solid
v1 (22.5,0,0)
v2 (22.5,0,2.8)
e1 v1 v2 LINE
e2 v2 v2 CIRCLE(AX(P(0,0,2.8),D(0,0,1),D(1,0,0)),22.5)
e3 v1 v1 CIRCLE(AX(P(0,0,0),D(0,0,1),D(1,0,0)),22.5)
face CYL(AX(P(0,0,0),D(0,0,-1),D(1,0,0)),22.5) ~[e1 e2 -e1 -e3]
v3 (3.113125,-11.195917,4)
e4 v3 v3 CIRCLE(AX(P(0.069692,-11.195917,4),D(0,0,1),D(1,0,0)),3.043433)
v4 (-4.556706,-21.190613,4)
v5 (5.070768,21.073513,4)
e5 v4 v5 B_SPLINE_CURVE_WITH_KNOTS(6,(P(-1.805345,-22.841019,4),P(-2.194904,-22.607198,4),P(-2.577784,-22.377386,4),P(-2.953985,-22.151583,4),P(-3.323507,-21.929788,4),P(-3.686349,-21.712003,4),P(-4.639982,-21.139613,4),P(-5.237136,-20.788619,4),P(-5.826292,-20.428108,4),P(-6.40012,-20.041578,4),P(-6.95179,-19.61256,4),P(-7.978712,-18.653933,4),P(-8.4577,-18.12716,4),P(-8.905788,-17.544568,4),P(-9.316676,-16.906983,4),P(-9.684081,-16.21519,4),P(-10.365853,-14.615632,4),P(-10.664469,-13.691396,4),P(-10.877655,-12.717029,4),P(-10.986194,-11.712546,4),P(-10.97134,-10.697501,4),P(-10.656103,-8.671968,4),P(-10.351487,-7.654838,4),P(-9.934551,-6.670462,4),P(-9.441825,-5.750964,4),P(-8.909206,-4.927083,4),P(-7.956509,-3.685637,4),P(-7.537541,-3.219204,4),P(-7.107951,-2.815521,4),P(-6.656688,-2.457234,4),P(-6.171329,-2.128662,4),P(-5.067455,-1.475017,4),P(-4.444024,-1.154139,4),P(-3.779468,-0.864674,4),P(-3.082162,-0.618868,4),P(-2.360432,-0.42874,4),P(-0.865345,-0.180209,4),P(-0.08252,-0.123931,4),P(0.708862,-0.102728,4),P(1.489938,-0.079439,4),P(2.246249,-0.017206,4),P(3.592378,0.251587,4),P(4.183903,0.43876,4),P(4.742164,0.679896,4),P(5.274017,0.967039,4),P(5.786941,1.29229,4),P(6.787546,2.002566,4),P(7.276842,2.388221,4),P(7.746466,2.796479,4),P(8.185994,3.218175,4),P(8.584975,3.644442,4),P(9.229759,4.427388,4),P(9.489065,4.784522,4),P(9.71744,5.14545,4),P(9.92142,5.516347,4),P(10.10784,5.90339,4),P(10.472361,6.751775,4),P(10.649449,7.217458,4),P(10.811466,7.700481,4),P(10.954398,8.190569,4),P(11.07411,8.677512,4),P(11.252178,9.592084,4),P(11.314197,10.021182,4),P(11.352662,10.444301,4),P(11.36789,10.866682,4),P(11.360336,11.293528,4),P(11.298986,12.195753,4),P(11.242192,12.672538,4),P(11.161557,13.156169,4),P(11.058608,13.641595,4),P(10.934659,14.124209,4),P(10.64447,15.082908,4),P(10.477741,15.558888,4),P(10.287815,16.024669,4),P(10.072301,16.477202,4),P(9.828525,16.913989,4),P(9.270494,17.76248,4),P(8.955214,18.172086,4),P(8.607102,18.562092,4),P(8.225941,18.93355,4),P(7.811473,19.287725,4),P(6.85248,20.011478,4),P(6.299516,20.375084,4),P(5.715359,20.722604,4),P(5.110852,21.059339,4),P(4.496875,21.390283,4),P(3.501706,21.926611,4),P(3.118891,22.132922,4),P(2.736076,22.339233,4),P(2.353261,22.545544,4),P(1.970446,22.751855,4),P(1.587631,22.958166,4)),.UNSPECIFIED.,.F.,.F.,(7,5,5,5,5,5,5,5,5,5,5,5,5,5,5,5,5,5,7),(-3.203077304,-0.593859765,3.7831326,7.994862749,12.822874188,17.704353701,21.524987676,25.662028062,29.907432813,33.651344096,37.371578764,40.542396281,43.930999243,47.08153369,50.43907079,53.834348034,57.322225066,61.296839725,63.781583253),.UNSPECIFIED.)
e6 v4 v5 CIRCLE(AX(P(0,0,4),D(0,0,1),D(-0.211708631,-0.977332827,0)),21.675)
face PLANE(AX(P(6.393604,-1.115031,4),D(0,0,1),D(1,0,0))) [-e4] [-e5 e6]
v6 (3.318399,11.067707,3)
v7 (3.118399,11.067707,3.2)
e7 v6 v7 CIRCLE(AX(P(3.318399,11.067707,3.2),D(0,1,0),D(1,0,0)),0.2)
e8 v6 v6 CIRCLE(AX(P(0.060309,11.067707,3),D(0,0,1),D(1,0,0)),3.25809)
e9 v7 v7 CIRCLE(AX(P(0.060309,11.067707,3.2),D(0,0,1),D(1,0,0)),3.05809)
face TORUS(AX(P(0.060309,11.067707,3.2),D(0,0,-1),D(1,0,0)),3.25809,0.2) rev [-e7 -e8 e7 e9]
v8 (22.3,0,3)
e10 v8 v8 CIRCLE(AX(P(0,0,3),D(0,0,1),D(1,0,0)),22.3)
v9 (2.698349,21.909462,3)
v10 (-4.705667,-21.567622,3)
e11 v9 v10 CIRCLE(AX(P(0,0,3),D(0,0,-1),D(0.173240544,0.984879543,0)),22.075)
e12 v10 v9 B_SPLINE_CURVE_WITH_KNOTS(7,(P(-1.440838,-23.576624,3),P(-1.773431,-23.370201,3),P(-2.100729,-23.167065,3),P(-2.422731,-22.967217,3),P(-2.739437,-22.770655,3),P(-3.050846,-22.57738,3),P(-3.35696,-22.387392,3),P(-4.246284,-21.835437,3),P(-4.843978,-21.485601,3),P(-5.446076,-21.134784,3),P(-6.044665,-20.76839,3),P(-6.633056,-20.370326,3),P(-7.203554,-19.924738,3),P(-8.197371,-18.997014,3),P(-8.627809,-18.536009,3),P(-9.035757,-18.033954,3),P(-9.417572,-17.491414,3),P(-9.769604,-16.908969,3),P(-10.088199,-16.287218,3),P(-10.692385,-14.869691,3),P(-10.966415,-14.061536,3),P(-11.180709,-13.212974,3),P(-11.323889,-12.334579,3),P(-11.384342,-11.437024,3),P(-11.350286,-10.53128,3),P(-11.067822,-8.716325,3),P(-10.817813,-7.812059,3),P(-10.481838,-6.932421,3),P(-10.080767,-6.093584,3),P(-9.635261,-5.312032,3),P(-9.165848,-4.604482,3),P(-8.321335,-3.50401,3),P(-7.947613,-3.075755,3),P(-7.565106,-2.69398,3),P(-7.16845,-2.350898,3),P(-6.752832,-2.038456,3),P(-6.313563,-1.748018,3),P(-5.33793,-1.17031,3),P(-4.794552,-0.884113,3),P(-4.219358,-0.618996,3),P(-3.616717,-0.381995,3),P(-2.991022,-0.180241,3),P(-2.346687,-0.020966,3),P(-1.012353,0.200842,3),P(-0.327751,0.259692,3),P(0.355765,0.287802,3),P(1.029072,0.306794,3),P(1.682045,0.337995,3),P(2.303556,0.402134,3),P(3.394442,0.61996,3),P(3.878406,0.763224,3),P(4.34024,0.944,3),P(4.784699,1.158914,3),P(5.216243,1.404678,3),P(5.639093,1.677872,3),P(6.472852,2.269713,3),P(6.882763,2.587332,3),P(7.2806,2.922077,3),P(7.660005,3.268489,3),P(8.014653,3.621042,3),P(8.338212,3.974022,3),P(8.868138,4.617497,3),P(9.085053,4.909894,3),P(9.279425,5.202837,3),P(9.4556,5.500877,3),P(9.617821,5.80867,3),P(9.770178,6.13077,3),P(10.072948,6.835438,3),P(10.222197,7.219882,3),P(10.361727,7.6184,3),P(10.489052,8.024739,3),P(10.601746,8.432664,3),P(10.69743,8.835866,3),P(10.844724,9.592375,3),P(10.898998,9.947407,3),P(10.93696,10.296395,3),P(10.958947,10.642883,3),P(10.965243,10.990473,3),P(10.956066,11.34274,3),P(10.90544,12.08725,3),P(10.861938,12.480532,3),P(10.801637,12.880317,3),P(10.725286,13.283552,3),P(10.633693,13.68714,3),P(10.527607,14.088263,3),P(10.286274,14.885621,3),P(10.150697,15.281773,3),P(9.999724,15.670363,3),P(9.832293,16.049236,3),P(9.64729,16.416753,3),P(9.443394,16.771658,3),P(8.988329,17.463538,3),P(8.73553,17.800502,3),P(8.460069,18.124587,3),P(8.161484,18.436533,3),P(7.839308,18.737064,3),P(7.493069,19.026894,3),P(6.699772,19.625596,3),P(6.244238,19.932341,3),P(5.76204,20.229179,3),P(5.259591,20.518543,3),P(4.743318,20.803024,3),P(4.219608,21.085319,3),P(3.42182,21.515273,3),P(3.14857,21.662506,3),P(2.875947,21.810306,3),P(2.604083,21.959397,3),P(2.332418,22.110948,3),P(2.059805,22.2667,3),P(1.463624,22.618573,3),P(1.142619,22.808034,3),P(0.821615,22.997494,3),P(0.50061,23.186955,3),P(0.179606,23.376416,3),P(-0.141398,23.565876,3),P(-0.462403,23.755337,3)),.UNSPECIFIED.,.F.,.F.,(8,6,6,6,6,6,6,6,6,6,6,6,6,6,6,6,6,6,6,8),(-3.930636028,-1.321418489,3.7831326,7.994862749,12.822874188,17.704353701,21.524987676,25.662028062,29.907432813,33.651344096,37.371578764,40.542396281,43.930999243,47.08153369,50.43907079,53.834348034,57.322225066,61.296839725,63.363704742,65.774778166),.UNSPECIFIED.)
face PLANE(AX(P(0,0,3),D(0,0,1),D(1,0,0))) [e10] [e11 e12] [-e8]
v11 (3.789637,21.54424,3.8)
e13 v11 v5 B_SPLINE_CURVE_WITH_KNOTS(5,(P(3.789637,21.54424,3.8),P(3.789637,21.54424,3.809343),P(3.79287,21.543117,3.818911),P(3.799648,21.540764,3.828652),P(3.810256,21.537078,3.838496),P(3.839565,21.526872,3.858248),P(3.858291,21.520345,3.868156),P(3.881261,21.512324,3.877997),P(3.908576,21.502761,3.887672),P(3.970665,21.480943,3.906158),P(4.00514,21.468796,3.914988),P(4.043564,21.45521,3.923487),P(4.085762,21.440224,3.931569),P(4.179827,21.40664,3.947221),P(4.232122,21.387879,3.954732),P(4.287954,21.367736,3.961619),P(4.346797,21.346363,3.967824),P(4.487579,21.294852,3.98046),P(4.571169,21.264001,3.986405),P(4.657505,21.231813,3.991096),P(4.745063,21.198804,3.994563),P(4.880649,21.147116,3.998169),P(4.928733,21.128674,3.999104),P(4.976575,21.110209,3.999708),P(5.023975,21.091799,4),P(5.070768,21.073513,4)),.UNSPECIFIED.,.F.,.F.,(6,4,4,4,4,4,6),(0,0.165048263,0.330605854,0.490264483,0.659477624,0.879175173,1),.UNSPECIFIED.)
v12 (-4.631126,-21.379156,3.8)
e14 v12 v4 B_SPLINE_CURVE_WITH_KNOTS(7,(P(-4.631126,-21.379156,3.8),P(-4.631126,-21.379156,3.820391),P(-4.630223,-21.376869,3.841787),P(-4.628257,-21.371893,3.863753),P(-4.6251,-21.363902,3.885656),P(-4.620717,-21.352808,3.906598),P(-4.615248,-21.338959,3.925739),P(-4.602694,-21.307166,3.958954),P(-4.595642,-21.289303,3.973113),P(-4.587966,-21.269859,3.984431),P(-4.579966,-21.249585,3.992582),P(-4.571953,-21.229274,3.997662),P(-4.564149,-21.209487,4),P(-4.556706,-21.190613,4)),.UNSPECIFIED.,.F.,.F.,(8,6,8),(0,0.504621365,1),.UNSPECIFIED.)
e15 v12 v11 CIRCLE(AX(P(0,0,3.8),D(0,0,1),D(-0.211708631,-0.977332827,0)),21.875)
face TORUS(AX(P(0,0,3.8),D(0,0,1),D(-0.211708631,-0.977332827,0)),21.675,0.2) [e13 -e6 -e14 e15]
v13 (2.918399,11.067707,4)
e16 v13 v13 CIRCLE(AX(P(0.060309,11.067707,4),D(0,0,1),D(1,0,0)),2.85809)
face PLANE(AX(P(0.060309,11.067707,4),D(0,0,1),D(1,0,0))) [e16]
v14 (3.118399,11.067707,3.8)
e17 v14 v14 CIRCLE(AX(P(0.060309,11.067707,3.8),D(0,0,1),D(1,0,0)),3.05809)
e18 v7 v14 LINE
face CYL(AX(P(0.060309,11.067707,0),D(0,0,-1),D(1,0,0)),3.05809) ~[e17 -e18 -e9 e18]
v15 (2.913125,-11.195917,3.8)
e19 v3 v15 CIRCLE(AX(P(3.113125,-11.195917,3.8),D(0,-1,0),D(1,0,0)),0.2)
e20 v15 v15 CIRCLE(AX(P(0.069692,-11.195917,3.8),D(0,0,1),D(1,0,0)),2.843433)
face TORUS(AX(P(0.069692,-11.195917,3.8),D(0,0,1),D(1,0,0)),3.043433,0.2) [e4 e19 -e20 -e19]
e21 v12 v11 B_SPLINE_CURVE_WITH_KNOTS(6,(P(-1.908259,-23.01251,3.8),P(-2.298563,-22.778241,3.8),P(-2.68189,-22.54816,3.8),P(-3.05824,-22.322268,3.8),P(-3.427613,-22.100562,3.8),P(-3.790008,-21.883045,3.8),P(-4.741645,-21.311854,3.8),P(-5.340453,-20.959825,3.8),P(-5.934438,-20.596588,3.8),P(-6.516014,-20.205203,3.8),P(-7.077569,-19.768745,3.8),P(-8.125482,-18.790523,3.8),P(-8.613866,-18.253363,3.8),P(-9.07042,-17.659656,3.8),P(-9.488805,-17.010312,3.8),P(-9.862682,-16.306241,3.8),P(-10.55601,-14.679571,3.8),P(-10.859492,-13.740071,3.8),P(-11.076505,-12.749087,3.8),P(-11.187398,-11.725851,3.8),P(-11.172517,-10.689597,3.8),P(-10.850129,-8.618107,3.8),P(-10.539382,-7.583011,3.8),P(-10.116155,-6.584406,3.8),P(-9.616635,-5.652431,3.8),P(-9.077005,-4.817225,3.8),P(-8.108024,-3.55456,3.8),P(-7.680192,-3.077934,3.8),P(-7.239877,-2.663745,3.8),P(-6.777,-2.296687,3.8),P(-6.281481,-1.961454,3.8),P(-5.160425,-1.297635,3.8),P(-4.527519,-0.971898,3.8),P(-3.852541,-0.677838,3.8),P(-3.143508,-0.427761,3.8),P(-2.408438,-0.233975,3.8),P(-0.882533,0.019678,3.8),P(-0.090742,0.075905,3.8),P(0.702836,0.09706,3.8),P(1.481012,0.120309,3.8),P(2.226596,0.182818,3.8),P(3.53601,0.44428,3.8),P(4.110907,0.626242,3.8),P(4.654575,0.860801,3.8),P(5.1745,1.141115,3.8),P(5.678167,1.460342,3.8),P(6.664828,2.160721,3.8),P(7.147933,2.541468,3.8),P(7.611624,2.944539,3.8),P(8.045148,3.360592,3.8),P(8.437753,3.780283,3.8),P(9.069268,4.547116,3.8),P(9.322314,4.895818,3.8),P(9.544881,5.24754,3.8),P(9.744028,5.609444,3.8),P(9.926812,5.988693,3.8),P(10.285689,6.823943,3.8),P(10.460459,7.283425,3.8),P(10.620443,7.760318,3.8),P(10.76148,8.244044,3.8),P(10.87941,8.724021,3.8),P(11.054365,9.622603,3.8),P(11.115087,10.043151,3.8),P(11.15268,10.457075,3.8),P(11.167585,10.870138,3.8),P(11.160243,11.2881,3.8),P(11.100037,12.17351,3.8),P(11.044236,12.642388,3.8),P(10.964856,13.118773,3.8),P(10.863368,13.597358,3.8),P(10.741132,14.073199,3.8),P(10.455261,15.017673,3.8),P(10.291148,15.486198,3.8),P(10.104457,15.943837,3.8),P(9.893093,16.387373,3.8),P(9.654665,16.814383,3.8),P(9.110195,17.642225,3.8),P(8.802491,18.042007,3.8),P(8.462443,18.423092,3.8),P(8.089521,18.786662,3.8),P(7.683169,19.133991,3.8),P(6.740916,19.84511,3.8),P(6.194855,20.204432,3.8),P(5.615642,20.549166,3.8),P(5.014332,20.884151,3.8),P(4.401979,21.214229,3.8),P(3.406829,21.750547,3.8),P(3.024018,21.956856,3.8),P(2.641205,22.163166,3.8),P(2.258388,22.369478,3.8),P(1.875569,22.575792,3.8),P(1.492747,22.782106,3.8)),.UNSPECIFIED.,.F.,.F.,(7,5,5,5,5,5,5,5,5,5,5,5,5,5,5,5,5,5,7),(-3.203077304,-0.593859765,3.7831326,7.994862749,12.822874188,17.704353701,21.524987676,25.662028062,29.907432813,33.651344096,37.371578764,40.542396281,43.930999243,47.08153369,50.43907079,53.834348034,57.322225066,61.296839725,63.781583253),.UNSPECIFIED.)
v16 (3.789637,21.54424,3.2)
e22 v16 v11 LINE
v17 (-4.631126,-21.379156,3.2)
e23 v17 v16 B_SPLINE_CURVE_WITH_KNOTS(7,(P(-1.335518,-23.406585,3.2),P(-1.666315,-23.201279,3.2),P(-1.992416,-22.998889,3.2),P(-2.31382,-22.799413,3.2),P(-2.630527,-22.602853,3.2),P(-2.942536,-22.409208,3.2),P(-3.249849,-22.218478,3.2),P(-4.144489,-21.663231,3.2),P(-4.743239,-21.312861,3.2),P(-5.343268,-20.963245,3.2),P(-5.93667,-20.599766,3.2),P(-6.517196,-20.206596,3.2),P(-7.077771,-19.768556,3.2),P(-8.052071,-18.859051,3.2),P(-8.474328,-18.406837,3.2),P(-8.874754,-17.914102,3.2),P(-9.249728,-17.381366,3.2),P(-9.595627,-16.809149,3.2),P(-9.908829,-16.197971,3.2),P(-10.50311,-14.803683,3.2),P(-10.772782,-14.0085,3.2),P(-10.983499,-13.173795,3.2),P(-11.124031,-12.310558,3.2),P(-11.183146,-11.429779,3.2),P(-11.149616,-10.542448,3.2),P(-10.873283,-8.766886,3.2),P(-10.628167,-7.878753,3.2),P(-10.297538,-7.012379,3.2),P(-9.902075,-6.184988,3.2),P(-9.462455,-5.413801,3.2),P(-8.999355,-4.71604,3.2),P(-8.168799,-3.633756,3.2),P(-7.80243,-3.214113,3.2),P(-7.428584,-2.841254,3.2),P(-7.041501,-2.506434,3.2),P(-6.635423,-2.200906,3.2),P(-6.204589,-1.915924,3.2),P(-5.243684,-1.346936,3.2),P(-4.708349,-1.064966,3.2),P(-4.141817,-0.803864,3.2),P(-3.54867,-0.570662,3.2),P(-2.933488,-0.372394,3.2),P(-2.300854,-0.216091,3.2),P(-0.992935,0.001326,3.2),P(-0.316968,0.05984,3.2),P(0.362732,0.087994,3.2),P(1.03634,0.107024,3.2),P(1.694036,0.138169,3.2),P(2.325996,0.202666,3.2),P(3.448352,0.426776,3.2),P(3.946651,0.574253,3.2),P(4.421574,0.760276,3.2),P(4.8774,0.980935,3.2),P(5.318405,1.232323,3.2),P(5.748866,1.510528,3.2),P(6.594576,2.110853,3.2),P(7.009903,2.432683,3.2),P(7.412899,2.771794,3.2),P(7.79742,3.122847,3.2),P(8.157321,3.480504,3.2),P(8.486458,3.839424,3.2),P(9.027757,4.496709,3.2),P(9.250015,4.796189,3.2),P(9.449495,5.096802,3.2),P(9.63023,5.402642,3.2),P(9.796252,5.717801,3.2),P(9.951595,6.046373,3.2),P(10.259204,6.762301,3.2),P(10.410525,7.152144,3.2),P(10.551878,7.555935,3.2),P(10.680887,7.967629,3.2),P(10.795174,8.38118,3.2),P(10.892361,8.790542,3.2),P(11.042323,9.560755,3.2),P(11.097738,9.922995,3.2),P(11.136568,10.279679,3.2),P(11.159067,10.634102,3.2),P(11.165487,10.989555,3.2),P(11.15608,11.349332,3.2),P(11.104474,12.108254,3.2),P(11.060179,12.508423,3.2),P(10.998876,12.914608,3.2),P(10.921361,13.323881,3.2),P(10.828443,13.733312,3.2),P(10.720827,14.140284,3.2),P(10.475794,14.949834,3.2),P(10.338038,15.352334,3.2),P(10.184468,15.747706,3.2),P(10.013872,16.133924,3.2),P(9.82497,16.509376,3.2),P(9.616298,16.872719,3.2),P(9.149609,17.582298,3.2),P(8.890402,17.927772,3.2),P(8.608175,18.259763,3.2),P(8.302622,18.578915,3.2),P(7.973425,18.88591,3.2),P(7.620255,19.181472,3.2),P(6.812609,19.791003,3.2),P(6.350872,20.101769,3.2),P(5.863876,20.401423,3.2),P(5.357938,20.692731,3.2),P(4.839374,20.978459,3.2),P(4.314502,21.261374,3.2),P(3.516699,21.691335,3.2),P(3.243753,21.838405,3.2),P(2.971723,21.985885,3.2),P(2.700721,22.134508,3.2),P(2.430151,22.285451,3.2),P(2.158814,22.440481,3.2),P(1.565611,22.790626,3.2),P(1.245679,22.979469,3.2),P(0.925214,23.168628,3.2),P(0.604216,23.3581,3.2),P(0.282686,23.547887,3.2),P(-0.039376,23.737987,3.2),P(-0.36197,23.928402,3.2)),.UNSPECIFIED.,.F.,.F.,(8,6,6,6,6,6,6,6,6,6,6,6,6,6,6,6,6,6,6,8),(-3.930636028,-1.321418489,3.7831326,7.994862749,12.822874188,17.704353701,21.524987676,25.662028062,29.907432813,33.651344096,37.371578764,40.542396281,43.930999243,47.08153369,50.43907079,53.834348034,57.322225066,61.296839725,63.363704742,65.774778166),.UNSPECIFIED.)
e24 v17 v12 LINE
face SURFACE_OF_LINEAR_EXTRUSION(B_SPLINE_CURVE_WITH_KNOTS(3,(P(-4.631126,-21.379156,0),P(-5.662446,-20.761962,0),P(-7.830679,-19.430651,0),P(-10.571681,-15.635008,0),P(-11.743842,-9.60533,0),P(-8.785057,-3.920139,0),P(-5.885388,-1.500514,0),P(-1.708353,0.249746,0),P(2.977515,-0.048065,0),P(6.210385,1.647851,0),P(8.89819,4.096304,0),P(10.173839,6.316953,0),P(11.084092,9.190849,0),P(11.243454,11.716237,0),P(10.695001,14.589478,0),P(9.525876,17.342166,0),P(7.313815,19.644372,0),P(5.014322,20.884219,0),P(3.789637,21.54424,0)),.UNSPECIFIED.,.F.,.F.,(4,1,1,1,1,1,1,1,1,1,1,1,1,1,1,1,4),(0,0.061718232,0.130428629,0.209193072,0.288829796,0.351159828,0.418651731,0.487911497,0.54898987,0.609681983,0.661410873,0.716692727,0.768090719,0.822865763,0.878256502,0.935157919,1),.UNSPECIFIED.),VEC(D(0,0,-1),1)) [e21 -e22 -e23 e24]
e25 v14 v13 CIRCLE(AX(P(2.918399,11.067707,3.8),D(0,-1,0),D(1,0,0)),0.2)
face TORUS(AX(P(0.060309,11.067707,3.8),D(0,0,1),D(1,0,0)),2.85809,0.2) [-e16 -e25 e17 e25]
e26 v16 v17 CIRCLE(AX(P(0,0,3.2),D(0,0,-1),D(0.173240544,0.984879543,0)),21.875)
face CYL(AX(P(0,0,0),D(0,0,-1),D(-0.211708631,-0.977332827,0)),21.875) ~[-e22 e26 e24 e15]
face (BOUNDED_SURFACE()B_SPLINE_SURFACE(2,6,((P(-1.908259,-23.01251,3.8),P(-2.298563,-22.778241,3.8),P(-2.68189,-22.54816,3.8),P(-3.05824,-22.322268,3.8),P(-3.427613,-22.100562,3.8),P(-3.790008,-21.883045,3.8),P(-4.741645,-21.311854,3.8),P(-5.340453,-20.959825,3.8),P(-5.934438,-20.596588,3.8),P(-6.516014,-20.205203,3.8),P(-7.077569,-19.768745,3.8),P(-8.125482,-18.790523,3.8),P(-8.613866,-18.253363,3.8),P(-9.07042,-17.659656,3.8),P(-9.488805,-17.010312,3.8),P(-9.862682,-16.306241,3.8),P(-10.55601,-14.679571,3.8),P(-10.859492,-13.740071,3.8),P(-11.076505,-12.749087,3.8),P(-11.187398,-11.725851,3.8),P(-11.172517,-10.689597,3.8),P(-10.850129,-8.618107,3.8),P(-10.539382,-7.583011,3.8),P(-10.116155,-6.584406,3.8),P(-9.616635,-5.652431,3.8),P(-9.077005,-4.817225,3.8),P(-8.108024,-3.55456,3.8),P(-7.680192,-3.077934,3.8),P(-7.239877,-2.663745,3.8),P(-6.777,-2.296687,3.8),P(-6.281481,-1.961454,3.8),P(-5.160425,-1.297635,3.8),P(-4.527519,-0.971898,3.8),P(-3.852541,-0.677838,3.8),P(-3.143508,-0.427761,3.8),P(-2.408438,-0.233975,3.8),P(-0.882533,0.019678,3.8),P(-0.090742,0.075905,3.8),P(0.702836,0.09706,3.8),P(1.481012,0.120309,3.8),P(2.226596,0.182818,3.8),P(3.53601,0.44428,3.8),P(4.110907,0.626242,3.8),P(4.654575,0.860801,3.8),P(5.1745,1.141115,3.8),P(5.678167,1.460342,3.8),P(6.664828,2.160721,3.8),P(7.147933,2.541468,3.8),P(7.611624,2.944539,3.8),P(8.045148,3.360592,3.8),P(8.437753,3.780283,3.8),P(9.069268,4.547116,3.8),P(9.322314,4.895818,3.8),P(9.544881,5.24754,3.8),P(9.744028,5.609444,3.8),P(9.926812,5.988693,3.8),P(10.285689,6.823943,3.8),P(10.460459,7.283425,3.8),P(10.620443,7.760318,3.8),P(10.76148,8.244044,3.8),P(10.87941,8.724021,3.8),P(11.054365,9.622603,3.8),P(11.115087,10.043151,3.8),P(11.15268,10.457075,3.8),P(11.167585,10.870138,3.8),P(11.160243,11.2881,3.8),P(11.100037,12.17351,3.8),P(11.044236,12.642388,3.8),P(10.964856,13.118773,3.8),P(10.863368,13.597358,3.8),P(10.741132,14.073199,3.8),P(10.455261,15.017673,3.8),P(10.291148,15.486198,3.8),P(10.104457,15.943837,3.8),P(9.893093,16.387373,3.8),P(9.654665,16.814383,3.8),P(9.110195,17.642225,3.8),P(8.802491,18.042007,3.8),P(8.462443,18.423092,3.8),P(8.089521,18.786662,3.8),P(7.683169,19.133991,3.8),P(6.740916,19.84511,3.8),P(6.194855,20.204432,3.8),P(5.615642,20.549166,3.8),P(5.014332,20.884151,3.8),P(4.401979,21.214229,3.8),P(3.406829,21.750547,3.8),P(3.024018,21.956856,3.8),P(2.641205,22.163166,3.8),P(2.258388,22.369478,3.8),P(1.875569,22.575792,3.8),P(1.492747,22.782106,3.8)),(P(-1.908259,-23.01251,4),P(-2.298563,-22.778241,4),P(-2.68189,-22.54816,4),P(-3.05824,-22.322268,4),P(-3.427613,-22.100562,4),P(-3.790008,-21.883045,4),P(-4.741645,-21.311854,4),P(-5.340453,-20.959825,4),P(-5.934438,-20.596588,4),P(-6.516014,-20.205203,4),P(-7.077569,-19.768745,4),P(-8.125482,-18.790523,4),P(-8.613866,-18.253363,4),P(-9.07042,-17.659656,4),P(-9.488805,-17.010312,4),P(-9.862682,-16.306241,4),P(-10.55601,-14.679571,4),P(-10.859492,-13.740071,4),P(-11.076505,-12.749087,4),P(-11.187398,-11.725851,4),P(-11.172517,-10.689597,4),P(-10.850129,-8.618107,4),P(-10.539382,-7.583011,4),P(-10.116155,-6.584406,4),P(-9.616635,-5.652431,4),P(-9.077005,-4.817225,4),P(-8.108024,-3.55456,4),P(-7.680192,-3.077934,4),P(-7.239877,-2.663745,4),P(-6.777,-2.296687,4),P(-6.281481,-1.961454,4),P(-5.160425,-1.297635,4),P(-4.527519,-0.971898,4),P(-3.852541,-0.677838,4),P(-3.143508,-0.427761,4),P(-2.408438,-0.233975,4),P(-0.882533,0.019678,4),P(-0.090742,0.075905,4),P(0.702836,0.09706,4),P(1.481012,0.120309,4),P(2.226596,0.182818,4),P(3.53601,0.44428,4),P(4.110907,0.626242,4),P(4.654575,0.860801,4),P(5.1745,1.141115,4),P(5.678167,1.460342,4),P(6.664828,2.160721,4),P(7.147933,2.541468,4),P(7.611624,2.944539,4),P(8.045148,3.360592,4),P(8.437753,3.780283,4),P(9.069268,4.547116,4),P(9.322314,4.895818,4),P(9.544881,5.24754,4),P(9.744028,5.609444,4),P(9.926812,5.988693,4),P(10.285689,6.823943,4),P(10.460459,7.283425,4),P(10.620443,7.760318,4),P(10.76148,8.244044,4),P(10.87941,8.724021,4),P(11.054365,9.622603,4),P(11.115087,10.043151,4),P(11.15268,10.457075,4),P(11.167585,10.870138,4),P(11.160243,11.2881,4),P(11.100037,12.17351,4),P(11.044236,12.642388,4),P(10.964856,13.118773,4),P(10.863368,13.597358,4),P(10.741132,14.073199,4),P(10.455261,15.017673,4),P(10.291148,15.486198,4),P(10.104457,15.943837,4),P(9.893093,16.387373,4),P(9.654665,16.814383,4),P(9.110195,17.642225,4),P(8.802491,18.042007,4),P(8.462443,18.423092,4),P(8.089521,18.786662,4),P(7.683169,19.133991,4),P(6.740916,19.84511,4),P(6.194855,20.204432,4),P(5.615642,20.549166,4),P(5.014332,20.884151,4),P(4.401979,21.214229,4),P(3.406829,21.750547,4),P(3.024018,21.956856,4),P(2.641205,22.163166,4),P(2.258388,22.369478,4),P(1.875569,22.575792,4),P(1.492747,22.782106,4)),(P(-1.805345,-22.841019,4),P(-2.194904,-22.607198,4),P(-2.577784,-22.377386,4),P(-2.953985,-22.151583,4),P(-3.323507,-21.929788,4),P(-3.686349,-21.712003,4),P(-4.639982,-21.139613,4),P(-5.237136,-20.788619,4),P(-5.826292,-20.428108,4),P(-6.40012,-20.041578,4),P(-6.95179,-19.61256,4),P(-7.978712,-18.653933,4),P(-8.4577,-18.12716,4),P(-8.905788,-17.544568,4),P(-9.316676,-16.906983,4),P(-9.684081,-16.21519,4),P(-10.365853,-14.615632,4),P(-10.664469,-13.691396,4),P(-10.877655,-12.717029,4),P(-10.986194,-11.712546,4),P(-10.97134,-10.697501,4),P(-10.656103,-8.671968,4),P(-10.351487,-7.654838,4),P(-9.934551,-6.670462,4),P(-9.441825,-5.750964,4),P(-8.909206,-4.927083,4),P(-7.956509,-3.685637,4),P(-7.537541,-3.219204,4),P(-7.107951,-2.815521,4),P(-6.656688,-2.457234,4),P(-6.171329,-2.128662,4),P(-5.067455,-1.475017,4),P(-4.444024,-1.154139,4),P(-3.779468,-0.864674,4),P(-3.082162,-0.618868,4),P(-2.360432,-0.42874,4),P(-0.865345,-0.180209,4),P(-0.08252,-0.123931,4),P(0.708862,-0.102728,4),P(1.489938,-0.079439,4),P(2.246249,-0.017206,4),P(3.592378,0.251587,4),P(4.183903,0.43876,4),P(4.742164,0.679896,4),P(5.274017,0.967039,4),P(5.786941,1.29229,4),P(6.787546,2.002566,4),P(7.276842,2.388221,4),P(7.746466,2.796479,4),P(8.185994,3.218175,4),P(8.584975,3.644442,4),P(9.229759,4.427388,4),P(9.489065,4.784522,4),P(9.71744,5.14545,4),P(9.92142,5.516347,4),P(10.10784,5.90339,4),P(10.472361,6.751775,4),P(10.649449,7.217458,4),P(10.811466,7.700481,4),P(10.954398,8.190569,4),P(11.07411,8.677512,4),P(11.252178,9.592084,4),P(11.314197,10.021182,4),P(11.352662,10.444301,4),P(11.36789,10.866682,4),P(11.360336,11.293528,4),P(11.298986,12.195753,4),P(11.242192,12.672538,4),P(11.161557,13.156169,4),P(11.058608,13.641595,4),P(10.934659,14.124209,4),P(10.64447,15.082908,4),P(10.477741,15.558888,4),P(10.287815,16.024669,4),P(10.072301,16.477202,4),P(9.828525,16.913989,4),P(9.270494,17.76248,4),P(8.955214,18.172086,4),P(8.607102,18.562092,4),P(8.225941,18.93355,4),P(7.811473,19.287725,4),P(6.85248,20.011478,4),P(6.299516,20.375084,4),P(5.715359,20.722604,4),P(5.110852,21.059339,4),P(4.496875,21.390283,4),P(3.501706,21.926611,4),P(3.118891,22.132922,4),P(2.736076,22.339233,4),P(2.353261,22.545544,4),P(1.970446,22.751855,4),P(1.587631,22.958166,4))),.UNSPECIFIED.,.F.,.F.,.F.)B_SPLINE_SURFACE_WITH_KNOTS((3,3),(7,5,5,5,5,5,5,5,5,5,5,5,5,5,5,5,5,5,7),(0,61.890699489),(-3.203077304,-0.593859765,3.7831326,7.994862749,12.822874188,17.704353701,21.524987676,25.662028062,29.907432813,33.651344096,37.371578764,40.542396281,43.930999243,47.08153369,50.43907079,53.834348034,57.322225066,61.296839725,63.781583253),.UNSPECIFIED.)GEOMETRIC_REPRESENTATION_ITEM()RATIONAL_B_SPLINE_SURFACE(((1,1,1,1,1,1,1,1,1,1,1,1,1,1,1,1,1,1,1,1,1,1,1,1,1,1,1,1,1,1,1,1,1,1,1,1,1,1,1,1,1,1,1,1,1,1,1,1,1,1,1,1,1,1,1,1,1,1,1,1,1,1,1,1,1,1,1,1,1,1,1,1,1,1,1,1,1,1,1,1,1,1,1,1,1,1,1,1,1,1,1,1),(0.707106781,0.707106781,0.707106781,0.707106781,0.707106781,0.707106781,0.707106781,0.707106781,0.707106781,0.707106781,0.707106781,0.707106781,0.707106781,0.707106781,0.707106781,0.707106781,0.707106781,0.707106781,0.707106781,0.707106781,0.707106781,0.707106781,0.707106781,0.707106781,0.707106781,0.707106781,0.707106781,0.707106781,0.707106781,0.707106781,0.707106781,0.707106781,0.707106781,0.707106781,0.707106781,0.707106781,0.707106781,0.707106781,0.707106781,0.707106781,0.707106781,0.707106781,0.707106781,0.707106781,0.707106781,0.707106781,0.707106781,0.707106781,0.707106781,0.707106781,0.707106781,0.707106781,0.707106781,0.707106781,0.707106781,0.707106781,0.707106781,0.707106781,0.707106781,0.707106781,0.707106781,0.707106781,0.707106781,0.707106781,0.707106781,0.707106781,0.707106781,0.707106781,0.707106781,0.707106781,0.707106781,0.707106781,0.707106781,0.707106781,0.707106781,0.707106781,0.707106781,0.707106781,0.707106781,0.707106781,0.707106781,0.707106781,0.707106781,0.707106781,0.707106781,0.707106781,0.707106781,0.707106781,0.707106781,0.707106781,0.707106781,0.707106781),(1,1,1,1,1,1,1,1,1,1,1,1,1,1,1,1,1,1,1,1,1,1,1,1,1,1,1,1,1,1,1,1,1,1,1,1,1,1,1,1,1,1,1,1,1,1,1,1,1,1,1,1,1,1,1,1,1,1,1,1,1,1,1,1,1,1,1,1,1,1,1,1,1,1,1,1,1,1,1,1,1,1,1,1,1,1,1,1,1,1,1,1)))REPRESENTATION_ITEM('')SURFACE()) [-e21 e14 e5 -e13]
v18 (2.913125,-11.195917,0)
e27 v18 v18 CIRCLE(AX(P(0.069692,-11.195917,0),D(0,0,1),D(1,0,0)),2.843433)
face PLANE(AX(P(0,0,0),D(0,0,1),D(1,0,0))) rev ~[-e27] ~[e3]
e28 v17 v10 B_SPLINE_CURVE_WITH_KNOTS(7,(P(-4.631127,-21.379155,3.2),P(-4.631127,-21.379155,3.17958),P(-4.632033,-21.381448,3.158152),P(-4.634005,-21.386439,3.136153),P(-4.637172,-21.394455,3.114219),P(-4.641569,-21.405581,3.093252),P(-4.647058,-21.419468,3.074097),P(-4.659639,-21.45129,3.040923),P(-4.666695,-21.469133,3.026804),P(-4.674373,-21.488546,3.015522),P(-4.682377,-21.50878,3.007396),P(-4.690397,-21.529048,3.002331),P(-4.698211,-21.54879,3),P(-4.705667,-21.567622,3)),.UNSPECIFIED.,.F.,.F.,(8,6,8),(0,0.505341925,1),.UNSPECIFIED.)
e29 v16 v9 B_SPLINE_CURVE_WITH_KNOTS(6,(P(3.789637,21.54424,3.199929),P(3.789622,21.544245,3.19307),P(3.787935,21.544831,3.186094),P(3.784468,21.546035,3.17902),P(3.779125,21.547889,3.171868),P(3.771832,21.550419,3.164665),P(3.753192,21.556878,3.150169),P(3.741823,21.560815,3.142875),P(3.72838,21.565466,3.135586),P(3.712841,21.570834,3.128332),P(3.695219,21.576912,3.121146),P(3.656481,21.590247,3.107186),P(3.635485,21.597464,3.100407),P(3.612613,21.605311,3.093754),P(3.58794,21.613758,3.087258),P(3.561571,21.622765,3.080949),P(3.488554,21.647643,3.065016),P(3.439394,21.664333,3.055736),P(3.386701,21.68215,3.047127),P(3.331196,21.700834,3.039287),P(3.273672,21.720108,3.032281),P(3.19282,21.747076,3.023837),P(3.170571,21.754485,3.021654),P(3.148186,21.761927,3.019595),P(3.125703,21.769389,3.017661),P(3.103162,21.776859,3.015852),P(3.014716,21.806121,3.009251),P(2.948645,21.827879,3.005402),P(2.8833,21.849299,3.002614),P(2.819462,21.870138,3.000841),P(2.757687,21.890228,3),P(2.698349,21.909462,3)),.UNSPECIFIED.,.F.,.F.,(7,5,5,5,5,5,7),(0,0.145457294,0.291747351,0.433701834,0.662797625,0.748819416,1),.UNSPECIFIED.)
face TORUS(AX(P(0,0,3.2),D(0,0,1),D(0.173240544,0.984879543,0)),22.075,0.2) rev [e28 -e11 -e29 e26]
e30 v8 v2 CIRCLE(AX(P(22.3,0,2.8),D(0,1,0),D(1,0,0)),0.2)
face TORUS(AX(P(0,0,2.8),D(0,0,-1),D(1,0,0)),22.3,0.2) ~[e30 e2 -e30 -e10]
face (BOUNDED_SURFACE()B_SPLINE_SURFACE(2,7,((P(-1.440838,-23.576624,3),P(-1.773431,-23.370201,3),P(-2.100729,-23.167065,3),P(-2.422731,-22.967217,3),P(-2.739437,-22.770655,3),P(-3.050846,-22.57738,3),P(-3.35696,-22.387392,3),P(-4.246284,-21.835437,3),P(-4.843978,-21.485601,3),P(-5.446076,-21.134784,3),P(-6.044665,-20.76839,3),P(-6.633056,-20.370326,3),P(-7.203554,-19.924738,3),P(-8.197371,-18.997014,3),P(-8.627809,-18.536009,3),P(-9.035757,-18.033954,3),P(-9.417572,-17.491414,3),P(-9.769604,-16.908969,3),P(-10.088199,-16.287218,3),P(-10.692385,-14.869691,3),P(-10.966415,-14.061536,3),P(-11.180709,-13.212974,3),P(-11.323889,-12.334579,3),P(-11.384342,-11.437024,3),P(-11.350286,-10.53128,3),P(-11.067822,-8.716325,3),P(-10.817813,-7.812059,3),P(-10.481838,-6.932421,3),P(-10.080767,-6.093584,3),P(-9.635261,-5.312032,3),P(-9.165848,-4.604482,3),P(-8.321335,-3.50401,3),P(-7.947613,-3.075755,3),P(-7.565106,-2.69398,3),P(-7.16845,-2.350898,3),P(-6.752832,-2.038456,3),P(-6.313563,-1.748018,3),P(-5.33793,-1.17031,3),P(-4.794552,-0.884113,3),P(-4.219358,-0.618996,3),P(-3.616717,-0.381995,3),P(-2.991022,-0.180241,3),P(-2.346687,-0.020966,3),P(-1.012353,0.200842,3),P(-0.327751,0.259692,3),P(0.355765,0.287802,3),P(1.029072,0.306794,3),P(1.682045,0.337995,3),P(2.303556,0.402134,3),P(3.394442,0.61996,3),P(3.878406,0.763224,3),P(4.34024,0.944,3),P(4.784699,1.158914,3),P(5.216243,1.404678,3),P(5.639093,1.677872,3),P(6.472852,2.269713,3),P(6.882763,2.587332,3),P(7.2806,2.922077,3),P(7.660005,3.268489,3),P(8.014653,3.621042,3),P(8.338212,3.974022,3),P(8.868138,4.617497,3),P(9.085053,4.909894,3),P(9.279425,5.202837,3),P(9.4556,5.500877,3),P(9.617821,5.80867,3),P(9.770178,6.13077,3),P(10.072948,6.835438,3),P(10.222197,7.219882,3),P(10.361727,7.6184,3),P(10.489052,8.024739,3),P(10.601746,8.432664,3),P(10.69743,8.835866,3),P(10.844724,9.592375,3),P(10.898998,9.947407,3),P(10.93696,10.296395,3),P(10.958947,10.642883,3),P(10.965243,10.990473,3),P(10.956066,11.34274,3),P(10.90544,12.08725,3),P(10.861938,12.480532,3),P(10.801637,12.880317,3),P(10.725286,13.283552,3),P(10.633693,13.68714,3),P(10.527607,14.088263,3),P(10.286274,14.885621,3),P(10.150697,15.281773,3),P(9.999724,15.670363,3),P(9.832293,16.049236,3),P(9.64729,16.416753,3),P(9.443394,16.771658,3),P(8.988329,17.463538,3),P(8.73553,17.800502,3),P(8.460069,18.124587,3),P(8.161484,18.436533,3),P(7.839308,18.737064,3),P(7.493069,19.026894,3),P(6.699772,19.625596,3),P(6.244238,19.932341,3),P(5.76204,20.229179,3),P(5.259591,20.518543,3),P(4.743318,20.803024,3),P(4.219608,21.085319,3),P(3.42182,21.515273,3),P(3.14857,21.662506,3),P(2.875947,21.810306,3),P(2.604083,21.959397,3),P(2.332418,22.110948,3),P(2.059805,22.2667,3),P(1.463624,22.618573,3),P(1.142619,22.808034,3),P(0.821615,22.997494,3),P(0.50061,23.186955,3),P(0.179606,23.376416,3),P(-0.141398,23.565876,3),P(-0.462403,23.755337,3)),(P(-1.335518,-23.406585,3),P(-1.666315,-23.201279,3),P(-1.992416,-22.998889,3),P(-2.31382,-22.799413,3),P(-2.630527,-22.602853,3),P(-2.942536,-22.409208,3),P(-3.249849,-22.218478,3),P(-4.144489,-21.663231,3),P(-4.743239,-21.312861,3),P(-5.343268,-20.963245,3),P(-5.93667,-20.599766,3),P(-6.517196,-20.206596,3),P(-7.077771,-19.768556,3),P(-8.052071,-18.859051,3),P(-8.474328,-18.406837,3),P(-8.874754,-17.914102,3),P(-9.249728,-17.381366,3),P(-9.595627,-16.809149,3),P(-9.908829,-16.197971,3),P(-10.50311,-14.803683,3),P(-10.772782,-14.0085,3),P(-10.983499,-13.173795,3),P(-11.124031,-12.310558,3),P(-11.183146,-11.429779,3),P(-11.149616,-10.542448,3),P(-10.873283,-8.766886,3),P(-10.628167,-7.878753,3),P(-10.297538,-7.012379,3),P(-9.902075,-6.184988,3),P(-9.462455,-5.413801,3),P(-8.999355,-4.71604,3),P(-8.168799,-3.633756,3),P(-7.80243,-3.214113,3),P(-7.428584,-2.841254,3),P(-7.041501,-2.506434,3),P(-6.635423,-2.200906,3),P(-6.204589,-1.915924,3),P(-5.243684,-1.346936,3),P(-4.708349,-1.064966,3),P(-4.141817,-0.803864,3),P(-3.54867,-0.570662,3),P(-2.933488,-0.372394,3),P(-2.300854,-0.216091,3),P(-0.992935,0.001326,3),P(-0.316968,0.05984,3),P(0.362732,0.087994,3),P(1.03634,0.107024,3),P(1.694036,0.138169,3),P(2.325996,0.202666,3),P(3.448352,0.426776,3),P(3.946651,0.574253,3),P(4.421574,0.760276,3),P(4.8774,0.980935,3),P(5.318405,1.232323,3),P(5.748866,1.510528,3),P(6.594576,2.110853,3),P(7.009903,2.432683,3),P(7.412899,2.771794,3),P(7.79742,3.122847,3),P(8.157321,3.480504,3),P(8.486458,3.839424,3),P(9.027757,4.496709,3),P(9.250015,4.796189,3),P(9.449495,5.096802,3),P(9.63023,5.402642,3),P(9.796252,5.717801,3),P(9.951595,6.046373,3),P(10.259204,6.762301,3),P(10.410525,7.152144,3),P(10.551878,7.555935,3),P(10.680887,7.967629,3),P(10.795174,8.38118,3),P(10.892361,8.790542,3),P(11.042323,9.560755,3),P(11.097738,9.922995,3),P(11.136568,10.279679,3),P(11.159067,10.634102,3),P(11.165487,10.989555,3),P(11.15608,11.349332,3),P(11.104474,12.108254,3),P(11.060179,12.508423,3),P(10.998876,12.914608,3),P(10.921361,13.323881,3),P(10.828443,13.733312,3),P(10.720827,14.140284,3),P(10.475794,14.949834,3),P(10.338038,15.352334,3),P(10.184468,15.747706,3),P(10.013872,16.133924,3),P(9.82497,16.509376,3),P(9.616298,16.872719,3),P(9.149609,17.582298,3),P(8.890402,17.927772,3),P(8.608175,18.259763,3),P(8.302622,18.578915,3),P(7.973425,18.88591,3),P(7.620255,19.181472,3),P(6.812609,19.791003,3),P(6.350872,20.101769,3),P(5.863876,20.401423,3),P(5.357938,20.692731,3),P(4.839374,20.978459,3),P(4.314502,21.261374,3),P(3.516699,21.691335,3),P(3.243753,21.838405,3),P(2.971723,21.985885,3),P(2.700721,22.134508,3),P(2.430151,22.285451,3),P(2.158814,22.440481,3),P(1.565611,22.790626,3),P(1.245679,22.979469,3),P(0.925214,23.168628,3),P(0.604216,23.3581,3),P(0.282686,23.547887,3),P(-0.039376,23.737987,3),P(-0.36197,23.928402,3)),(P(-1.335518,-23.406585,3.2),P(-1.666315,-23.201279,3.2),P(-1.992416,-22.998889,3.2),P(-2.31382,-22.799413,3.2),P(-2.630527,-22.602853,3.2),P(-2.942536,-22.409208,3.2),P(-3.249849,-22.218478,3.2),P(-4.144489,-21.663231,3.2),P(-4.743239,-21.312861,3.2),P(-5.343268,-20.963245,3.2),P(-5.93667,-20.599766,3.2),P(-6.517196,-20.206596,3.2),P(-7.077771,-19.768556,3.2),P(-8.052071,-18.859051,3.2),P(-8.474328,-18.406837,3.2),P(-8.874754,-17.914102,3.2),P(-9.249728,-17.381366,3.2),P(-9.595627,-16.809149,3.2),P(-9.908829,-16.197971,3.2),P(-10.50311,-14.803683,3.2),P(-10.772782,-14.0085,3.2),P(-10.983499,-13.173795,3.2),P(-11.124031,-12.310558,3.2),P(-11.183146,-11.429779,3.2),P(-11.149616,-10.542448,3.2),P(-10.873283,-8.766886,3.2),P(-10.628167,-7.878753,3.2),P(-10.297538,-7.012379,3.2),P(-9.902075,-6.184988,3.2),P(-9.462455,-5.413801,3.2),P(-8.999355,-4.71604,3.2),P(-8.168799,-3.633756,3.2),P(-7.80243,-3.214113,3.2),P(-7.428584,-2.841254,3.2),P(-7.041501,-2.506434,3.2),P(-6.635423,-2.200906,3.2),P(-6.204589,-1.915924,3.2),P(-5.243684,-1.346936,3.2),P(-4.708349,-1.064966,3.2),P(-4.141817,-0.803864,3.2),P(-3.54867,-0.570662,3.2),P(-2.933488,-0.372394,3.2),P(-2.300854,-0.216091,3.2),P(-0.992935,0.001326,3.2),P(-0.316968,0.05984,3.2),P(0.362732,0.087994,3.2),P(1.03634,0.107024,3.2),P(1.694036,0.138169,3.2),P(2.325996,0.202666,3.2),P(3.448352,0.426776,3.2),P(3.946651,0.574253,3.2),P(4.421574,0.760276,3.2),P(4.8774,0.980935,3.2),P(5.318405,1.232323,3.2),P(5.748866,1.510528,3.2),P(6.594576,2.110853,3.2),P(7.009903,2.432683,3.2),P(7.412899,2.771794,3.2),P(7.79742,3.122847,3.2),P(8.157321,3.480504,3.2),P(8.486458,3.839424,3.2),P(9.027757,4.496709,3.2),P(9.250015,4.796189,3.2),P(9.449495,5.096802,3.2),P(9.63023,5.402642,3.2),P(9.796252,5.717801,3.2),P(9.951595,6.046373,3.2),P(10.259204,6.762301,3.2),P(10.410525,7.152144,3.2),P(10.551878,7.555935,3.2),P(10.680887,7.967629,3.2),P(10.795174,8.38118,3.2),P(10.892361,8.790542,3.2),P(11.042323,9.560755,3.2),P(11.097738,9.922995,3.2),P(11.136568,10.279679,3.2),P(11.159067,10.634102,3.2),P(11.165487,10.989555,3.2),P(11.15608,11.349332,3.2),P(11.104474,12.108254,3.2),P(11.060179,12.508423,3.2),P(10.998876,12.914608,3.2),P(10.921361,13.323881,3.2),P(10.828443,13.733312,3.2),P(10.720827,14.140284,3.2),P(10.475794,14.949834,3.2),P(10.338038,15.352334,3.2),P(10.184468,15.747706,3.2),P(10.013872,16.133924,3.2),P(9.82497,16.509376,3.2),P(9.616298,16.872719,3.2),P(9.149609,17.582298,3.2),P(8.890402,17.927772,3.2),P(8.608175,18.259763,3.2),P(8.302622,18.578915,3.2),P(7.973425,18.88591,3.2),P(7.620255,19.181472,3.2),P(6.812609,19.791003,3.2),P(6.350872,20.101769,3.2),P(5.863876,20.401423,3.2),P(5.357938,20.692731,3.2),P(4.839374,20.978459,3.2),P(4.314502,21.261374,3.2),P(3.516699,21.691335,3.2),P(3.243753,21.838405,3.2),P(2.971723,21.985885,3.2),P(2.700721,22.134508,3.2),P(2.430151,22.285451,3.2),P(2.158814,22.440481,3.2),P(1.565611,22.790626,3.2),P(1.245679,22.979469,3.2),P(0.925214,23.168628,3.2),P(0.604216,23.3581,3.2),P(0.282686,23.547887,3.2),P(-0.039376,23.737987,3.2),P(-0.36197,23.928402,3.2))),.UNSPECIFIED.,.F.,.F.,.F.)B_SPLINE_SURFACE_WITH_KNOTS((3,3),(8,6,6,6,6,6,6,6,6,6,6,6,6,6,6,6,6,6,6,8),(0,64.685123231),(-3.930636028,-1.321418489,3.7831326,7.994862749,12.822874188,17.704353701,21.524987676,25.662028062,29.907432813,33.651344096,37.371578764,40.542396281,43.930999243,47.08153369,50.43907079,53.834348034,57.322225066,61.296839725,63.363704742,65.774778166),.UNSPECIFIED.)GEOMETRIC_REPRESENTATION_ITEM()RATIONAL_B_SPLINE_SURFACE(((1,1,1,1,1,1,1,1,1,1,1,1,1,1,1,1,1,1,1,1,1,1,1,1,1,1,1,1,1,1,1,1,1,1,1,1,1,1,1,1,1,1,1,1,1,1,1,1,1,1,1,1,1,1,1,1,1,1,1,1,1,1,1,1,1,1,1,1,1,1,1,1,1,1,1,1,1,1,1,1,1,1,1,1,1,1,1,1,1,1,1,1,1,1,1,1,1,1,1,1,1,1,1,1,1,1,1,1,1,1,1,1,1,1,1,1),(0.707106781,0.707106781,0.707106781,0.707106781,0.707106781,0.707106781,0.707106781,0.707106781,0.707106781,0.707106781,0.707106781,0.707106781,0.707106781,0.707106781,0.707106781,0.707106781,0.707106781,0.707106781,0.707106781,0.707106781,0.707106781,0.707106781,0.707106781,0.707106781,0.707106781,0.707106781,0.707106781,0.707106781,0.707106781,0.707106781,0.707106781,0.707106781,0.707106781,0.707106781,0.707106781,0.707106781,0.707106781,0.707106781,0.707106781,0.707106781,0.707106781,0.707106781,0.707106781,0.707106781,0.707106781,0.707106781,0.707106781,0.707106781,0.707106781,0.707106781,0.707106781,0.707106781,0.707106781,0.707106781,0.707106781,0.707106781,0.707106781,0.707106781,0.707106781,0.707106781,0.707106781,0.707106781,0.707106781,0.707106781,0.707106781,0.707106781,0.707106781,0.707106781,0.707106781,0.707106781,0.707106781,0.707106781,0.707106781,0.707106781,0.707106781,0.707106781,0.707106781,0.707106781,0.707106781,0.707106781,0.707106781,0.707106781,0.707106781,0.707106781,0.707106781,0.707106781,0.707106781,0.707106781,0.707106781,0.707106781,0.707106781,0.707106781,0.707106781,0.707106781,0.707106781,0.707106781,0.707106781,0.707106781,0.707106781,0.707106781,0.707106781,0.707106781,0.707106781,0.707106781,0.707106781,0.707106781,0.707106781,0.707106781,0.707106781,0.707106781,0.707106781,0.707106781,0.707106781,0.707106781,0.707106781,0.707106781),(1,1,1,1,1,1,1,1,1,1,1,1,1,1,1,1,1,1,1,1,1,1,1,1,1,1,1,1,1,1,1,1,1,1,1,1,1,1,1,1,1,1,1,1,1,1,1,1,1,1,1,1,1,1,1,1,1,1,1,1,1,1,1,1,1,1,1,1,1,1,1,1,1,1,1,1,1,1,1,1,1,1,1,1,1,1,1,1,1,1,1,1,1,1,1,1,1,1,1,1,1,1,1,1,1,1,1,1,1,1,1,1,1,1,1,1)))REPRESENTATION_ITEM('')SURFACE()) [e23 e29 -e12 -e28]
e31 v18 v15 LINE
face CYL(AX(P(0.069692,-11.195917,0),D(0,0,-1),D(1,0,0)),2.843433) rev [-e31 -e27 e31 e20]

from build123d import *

# Parameters (mm, degrees)
F0_R     = 22.5
F0_R_2   = 3.0580895054
F1_DEPTH = 3
F0_R_3   = 2.8434327744
F2_DEPTH = 4
F3_R     = 0.2


with BuildPart() as f1:
    # F0 (on Top) → F1 (new body)
    with BuildSketch(Plane.XY):
        Circle(F0_R)
        with BuildLine():
            ThreePointArc((3.78963691, 21.544239998), (16.754311869, 14.0644466225), (21.875, 0))
            ThreePointArc((21.875, 0), (13.7333487735, -17.0267658839), (-4.6311263055, -21.3791555994))
            ThreePointArc((-4.6311263055, -21.3791555994), (-21.4658216359, 4.2111906271), (3.78963691, 21.544239998))
        make_face(mode=Mode.SUBTRACT)
        with BuildLine():
            add(Edge.make_bspline(
                [(-4.6311263055, -21.3791555994), (-5.6624461917, -20.761961642), (-7.8306790688, -19.430650922), (-10.5716814976, -15.6350084894), (-11.7438422587, -9.6053296246), (-8.7850572973, -3.9201387309), (-5.8853881133, -1.5005135568), (-1.7083525765, 0.2497461836), (2.9775147435, -0.0480654662), (6.210384611, 1.6478509075), (8.8981903352, 4.0963043034), (10.1738387215, 6.316952936), (11.0840920319, 9.1908490371), (11.2434544747, 11.7162366696), (10.6950005291, 14.5894775149), (9.5258763683, 17.3421657188), (7.31381535, 19.6443719116), (5.0143215498, 20.8842187397), (3.78963691, 21.544239998)],
                knots=[0, 0, 0, 0, 0.0617182324, 0.1304286287, 0.2091930717, 0.2888297958, 0.3511598277, 0.4186517311, 0.4879114967, 0.5489898704, 0.6096819825, 0.6614108731, 0.7166927274, 0.7680907189, 0.822865763, 0.8782565019, 0.9351579188, 1, 1, 1, 1], degree=3))
            ThreePointArc((3.78963691, 21.544239998), (-21.4658216359, 4.2111906271), (-4.6311263055, -21.3791555994))
        make_face()
        with Locations((0.0603093565, 11.0677070916)):
            Circle(F0_R_2, mode=Mode.SUBTRACT)
    extrude(amount=F1_DEPTH)

    # F0 (on Top) → F2 (join)
    with BuildSketch(Plane.XY):
        with BuildLine():
            ThreePointArc((-4.6311263055, -21.3791555994), (13.7333487735, -17.0267658839), (21.875, 0))
            ThreePointArc((21.875, 0), (16.754311869, 14.0644466225), (3.78963691, 21.544239998))
            add(Edge.make_bspline(
                [(-4.6311263055, -21.3791555994), (-5.6624461917, -20.761961642), (-7.8306790688, -19.430650922), (-10.5716814976, -15.6350084894), (-11.7438422587, -9.6053296246), (-8.7850572973, -3.9201387309), (-5.8853881133, -1.5005135568), (-1.7083525765, 0.2497461836), (2.9775147435, -0.0480654662), (6.210384611, 1.6478509075), (8.8981903352, 4.0963043034), (10.1738387215, 6.316952936), (11.0840920319, 9.1908490371), (11.2434544747, 11.7162366696), (10.6950005291, 14.5894775149), (9.5258763683, 17.3421657188), (7.31381535, 19.6443719116), (5.0143215498, 20.8842187397), (3.78963691, 21.544239998)],
                knots=[0, 0, 0, 0, 0.0617182324, 0.1304286287, 0.2091930717, 0.2888297958, 0.3511598277, 0.4186517311, 0.4879114967, 0.5489898704, 0.6096819825, 0.6614108731, 0.7166927274, 0.7680907189, 0.822865763, 0.8782565019, 0.9351579188, 1, 1, 1, 1], degree=3))
        make_face()
        with Locations((0.0696922399, -11.1959171481)):
            Circle(F0_R_3, mode=Mode.SUBTRACT)
        with Locations((0.0603093565, 11.0677070916)):
            Circle(F0_R_2)
    extrude(amount=F2_DEPTH)

    # F3
    f3_edges = [f1.edges().sort_by_distance(p)[0] for p in [
        (-2.99778, 11.067707, 4),
        (-22.5, 0, 3),
        (21.465822, -4.211191, 3),
        (0.465623, 0.086806, 3),
        (-2.99778, 11.067707, 3),
        (21.465822, -4.211191, 4),
        (0.465623, 0.086806, 4),
        (-2.773741, -11.195917, 4),
    ]]
    fillet(f3_edges, radius=F3_R)


solid = f1.part
